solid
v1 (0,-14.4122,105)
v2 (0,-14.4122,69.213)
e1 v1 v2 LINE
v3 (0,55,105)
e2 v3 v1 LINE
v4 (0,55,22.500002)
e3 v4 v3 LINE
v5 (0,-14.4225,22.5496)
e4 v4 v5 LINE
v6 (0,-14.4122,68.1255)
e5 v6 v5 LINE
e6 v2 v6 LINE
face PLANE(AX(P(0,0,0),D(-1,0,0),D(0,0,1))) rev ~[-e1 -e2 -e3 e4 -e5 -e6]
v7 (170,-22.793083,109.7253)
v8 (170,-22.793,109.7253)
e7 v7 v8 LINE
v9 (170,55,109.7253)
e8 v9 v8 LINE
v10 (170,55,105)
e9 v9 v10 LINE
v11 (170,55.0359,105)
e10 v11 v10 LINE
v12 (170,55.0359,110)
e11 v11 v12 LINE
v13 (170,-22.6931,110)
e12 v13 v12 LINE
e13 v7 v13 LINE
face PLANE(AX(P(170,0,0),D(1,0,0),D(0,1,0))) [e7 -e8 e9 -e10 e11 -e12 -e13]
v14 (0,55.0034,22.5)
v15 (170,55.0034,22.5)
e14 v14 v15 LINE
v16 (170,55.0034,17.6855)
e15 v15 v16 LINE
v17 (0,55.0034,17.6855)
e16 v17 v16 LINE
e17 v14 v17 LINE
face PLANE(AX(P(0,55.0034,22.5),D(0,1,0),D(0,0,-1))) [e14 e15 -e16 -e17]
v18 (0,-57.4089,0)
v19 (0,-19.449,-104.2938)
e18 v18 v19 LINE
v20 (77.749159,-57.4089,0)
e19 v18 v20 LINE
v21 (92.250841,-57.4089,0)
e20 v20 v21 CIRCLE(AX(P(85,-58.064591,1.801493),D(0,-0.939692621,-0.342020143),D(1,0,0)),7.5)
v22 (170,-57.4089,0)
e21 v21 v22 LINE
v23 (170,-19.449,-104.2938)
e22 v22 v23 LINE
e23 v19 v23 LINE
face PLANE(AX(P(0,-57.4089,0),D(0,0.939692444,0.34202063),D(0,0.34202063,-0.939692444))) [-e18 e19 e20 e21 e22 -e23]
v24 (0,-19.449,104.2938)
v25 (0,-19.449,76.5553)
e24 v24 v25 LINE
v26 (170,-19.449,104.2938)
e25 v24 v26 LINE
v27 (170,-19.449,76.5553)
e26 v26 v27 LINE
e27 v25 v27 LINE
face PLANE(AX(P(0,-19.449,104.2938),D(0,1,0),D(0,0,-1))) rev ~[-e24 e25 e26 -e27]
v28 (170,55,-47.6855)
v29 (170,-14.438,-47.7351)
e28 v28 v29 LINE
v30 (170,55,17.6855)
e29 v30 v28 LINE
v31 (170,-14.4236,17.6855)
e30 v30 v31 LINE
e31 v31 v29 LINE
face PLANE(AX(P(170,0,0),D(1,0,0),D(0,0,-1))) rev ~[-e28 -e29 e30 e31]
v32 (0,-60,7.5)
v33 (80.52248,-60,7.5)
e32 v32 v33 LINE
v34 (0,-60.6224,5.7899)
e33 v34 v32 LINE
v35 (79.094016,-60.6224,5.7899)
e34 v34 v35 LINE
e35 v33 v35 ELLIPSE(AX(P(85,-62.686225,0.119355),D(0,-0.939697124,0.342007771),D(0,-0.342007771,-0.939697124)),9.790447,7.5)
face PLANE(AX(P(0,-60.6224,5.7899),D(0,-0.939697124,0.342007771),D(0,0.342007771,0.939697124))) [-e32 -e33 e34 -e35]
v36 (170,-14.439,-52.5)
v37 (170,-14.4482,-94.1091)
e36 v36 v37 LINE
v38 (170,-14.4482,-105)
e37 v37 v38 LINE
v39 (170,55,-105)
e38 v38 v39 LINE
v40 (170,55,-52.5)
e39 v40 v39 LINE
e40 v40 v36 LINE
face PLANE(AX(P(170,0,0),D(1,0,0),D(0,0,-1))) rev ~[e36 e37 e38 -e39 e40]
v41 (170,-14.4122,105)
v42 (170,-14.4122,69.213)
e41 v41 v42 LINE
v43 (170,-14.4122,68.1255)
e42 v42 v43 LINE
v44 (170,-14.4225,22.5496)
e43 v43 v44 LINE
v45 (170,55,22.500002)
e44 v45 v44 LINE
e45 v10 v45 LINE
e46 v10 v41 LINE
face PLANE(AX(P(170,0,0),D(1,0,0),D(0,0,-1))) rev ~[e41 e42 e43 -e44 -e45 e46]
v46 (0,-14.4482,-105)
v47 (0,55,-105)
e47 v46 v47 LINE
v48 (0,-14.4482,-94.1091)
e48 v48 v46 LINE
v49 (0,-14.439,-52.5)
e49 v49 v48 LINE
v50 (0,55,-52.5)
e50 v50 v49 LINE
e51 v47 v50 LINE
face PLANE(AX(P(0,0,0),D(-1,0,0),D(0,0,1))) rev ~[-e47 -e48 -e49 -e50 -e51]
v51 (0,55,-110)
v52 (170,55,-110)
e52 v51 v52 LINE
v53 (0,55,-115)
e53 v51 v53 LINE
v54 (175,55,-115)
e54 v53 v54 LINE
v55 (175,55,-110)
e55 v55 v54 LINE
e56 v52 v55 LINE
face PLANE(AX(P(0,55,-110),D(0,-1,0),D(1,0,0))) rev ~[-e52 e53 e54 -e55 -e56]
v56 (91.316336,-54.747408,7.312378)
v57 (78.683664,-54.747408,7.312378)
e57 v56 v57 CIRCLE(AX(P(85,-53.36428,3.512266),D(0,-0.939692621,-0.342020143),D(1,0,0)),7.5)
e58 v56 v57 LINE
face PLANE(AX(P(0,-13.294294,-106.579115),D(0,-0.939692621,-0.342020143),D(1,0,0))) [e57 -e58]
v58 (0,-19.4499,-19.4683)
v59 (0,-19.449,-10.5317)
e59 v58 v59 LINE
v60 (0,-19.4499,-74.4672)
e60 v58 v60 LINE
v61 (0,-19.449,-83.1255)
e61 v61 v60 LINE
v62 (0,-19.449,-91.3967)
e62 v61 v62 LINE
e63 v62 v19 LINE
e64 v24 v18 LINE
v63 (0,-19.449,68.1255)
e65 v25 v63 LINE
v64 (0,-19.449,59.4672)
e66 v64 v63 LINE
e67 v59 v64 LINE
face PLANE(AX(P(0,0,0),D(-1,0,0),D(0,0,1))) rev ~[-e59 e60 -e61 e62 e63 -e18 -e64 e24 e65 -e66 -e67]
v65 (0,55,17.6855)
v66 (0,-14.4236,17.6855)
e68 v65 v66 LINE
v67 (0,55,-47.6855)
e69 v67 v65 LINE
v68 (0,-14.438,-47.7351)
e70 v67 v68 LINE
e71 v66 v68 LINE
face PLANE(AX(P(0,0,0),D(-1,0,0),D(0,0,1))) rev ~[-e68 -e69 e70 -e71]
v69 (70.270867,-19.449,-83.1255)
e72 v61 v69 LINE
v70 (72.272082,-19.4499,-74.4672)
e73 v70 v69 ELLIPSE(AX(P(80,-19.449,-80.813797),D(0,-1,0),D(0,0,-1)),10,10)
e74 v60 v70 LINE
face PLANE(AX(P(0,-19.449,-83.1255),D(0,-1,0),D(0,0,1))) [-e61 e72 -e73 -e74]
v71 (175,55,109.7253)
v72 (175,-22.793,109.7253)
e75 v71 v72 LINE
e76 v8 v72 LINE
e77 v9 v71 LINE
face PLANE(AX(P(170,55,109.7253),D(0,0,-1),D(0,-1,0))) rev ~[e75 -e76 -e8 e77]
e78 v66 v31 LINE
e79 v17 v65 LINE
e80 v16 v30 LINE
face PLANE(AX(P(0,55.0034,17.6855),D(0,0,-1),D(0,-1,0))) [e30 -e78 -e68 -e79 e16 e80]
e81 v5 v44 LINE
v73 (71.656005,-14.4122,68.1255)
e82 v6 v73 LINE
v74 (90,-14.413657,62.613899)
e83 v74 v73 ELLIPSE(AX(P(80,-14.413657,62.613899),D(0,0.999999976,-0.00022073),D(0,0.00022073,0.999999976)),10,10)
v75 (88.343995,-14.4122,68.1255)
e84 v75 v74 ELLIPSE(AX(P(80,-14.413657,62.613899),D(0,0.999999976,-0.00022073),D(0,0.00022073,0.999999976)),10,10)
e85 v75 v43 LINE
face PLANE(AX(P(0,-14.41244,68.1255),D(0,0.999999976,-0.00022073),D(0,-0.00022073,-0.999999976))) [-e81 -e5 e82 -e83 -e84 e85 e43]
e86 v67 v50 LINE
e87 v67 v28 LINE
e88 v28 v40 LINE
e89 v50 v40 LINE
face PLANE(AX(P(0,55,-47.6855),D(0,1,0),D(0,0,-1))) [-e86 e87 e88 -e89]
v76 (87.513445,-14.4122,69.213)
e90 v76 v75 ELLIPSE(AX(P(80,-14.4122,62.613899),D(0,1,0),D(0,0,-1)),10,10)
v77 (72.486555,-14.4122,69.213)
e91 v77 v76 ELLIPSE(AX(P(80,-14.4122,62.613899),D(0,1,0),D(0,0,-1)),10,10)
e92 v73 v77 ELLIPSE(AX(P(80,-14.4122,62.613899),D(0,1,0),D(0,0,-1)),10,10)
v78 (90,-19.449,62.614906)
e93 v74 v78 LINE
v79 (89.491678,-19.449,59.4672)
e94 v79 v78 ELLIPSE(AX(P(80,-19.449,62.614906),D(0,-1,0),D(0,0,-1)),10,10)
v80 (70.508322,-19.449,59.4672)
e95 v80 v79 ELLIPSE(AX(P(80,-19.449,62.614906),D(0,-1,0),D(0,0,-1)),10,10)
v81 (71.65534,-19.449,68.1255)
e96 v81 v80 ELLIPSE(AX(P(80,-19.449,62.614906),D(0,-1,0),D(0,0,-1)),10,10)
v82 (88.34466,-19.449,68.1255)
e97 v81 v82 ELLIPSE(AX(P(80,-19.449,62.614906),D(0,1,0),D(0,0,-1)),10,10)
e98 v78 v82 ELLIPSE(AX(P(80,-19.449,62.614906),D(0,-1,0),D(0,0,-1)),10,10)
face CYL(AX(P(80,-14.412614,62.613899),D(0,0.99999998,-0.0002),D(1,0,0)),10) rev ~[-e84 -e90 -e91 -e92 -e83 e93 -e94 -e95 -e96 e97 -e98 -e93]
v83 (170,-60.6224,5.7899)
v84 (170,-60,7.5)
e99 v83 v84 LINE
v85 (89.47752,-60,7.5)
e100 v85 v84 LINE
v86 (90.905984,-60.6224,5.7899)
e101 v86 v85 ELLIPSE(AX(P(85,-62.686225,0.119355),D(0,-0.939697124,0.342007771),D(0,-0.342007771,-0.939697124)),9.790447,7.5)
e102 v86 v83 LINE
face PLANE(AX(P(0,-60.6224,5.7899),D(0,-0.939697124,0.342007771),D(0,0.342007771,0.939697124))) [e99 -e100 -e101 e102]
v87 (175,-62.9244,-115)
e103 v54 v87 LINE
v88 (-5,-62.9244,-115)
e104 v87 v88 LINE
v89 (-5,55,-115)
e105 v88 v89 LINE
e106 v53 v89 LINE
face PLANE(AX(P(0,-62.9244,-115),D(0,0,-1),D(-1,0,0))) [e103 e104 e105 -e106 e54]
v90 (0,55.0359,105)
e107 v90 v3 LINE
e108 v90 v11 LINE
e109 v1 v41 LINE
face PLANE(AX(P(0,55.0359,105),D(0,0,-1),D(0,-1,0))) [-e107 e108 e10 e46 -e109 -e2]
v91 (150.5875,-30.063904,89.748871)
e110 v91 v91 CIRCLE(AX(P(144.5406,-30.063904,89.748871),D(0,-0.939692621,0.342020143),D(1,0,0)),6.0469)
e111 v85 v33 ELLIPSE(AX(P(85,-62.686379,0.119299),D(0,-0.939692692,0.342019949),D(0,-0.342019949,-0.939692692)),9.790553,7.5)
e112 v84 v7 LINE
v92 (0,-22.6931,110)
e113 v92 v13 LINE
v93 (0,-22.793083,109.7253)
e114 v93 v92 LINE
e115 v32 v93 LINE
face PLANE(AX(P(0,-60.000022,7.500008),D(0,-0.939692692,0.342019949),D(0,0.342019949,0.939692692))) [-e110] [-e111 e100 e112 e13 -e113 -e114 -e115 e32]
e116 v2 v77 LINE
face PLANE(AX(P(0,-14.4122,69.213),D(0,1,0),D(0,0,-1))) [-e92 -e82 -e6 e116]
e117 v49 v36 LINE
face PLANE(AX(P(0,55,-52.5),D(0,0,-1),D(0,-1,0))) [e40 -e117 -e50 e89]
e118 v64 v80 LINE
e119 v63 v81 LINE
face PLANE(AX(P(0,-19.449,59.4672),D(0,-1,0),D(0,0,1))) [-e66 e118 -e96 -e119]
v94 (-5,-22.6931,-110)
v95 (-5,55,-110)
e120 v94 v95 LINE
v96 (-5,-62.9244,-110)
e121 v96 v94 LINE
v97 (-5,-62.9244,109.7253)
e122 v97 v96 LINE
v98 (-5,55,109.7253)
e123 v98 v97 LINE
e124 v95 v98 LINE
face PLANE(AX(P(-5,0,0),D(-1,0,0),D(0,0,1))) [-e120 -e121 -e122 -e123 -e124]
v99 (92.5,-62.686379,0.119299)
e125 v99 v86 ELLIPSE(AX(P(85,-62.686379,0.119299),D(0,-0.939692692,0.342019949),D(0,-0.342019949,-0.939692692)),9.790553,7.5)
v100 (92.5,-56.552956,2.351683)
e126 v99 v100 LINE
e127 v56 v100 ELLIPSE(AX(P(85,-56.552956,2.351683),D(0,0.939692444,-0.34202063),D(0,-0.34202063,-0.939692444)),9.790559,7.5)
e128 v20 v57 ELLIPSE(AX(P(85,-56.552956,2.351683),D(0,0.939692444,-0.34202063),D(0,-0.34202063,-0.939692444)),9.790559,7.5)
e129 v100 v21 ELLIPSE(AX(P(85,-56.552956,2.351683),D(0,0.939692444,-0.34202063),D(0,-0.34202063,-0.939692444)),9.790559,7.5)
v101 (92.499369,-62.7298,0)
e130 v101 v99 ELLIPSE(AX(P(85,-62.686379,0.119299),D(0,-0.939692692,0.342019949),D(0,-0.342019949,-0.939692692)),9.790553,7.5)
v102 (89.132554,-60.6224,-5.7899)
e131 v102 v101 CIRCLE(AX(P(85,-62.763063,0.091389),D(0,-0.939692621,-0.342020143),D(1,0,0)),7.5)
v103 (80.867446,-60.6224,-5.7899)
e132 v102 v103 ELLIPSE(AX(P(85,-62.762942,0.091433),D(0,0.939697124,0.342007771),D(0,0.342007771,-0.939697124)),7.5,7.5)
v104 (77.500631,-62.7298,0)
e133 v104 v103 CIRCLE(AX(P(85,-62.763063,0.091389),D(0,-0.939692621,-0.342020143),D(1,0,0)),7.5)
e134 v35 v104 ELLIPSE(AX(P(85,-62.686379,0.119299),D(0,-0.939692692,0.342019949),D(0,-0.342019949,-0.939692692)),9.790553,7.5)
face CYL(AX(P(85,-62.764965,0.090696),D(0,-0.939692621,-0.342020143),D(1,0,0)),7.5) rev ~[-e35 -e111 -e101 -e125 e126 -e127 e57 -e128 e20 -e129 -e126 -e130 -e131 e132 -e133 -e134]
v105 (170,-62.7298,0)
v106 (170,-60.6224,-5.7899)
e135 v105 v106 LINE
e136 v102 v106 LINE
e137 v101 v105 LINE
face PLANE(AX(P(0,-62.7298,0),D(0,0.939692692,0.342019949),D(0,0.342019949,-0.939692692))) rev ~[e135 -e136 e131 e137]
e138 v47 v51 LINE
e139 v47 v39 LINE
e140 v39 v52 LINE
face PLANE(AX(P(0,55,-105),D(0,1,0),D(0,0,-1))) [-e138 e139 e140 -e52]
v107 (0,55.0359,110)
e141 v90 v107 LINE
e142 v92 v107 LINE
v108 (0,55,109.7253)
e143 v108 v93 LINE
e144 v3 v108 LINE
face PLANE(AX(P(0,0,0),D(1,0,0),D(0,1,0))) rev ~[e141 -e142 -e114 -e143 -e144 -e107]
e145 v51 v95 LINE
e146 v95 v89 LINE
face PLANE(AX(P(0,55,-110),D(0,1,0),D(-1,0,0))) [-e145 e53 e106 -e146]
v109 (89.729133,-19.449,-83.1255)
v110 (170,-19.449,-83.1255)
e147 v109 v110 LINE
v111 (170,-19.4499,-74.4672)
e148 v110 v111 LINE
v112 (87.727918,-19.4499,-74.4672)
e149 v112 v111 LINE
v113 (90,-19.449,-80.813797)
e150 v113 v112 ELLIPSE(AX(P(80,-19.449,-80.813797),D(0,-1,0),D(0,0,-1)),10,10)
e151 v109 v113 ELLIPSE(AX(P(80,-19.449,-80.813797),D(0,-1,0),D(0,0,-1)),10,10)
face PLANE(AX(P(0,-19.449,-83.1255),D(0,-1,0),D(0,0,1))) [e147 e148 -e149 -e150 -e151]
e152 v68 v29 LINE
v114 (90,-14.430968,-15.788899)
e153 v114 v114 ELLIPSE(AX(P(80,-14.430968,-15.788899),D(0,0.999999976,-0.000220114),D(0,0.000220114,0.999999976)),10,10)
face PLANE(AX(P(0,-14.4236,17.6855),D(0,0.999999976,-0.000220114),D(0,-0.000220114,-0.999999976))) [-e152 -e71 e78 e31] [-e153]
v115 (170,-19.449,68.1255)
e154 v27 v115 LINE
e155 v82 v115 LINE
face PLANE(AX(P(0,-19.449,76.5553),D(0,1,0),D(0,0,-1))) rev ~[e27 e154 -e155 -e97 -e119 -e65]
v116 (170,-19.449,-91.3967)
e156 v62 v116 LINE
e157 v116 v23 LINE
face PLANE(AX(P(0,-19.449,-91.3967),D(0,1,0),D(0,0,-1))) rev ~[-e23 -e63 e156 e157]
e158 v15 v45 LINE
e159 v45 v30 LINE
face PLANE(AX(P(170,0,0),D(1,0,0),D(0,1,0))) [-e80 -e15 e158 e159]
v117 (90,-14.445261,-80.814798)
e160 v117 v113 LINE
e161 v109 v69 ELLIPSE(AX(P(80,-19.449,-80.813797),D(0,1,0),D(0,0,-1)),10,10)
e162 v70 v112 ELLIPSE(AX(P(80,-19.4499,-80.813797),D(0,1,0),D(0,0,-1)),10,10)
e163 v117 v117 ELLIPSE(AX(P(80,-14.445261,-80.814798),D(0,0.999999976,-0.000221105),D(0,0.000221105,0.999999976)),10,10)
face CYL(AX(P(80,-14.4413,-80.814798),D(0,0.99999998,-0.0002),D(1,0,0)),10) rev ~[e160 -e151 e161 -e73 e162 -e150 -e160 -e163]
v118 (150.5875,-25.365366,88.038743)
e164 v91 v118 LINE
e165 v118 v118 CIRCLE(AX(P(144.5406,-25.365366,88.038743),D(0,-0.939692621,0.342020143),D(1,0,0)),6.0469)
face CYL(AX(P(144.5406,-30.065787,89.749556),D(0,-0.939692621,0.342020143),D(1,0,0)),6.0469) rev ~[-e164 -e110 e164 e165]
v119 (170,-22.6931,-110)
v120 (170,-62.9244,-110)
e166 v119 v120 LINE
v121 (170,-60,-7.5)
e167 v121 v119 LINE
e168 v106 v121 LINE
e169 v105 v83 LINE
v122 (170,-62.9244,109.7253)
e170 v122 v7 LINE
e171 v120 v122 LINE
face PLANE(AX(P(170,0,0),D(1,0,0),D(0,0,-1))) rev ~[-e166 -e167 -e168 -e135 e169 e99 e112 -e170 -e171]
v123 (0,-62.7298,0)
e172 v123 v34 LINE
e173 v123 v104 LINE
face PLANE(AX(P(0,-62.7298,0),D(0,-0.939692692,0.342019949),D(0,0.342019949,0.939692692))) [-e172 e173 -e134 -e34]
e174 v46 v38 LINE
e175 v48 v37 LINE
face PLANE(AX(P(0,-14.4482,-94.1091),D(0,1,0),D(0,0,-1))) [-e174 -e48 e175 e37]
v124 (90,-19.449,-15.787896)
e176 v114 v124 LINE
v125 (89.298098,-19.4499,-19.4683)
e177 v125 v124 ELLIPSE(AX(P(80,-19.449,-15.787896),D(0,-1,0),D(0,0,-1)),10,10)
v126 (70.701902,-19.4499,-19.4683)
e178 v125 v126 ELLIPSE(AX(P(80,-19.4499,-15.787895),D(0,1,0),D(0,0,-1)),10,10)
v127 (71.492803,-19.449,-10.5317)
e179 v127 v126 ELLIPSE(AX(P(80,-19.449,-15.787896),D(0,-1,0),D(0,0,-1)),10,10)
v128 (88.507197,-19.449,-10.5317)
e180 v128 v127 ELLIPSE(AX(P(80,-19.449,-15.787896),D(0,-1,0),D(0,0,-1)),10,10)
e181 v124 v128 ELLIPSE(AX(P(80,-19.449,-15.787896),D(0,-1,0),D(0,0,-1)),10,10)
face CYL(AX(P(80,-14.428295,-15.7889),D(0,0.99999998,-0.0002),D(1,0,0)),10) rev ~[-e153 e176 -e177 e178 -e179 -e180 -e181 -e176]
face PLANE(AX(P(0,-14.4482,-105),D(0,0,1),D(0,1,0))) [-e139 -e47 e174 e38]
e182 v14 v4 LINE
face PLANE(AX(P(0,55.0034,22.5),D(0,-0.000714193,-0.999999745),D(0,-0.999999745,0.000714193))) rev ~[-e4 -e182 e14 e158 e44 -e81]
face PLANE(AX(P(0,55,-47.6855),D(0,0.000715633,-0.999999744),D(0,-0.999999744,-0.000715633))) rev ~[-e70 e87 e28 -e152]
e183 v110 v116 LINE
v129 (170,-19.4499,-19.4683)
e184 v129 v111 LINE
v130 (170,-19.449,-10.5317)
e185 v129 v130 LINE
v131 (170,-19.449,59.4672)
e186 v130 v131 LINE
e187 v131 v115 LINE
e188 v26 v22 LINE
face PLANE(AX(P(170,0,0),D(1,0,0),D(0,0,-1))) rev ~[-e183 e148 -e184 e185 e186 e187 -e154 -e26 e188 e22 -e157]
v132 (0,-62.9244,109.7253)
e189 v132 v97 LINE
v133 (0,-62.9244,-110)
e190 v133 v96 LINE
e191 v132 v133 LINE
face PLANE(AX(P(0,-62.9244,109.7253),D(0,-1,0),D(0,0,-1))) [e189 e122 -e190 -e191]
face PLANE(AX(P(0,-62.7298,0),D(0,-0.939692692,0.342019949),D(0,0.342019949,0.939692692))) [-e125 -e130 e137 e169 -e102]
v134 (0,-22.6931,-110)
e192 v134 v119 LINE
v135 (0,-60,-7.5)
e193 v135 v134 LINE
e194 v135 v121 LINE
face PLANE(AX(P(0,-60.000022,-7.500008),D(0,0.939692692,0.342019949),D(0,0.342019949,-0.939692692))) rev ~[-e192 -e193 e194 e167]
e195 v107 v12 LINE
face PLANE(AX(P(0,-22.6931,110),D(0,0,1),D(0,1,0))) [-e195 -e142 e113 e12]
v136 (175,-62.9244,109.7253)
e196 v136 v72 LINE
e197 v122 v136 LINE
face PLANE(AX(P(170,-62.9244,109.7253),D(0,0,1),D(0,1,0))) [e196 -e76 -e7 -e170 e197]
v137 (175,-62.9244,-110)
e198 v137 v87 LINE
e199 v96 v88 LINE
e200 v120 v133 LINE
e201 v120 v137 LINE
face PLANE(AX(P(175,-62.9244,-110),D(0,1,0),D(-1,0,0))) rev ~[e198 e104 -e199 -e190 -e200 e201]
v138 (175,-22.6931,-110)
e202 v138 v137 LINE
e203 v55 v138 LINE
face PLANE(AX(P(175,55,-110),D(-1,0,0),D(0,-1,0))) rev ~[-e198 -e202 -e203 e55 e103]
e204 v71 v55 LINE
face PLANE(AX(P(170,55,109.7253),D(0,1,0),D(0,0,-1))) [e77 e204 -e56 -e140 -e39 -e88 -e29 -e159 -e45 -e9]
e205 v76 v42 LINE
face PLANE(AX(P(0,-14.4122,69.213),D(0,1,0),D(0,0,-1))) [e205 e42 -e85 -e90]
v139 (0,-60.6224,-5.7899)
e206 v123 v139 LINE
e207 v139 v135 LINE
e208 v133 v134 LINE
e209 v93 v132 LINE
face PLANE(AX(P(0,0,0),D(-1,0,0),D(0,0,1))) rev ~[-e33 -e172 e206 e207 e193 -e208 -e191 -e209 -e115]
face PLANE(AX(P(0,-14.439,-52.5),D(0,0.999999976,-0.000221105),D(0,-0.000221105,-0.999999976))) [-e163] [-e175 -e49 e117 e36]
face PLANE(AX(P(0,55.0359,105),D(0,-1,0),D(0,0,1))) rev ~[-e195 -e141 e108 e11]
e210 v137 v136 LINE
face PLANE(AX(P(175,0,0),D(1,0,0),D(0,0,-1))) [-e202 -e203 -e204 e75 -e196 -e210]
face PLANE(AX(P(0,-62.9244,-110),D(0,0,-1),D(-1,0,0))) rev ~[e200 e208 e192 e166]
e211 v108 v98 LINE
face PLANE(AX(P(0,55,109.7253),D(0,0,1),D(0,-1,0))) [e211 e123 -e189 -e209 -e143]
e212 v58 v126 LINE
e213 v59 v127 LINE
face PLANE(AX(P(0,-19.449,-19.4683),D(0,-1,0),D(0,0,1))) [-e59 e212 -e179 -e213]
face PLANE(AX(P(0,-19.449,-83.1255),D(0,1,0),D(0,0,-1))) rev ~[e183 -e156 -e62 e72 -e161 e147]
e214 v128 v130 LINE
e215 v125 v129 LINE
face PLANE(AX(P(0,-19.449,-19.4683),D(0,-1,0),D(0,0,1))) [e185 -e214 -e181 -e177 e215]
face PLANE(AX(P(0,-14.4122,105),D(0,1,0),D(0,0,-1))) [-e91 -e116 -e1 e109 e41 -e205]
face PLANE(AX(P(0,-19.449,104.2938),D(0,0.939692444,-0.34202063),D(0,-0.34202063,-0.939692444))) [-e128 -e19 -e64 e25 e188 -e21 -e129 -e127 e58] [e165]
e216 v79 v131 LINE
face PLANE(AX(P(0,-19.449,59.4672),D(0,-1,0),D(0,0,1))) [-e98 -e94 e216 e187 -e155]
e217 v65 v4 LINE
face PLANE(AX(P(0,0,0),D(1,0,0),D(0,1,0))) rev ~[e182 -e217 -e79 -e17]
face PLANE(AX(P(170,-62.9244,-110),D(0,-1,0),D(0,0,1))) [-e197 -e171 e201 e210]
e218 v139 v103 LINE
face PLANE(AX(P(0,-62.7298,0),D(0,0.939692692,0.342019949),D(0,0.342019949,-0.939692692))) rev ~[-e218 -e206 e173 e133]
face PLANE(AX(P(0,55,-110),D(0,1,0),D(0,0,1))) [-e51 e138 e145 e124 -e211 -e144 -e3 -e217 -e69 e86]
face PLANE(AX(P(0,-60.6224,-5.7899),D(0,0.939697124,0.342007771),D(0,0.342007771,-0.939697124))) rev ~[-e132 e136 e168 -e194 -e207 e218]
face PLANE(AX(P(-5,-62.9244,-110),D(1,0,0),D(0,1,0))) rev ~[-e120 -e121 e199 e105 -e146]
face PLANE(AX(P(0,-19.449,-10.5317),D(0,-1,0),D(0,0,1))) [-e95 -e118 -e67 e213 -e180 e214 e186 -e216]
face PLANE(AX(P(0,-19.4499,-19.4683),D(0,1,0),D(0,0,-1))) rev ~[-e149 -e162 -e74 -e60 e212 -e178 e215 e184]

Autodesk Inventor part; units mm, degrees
ref_plane "YZ Plane" through (0, 0, 0) normal (1, 0, 0) x (0, 1, 0)
ref_plane "XZ Plane" through (0, 0, 0) normal (0, 1, 0) x (-1, 0, 0)
ref_plane "XY Plane" through (0, 0, 0) normal (0, 0, 1) x (1, 0, 0)
sketch "Sketch1" plane through (0, 0, 0) normal (1, 0, 0) x (0, 1, 0)
  line L0 (-22.6931, 110) -> (55.0359, 110)
  line L1 (55, -110) -> (-22.6931, -110)
  line L2 (-62.7298, 0) -> (-22.6931, -110)
  line L3 (-62.7298, 0) -> (-22.6931, 110)
  line L4 (-57.4089, 0) -> (-19.449, -104.2938)
  line L5 (-14.4482, -105) -> (55, -105)
  line L6 (55.0359, 105) -> (-14.4122, 105)
  line L7 (-19.449, 104.2938) -> (-57.4089, 0)
  line L8 (55.0034, 17.6855) -> (-14.4593, 17.6855)
  line L9 (55.0034, 22.5) -> (-14.4456, 22.5496)
  line L10 (55, -52.5) -> (-14.449, -52.5)
  line L11 (55, -47.6855) -> (-14.449, -47.7352)
  line L12 (-60.6224, -5.7899) -> (-60, -7.5)
  line L13 (-60.6224, 5.7899) -> (-60, 7.5)
  line L14 (-14.4122, 105) -> (-14.4122, 68.1255)
  line L15 (-14.4456, 59.4672) -> (-14.4456, 22.5496)
  line L16 (-19.449, 104.2938) -> (-19.449, 68.1255)
  line L17 (-14.4593, 17.6855) -> (-14.4593, -10.5317)
  line L18 (-14.449, -19.4683) -> (-14.449, -47.7352)
  line L19 (-19.4705, 59.4672) -> (-19.4705, -10.5317)
  line L20 (-14.449, -52.5) -> (-14.449, -74.4672)
  line L21 (-14.4482, -83.1255) -> (-14.4482, -105.0928)
  line L22 (-19.4499, -19.4683) -> (-19.4499, -74.4672)
  line L23 (-19.449, -83.1255) -> (-19.449, -104.2938)
  line L24 (-19.449, -74.4672) -> (-19.4499, -74.4672)
  line L25 (-14.4593, -83.1255) -> (-14.4482, -83.1255)
  line L26 (-19.4499, -19.4683) -> (-19.449, -19.4683)
  line L27 (-19.4705, -10.5317) -> (-19.449, -10.5317)
  line L28 (-14.4122, 68.1255) -> (-14.4125, 68.1255)
  line L29 (-19.4705, 59.4672) -> (-19.449, 59.4672)
  line L30 (55.0359, 105) -> (55.0359, 110)
  line L31 (55.0034, 22.5) -> (55.0034, 17.6855)
  line L32 (55, -47.6855) -> (55, -52.5)
  line L33 (55, -105) -> (55, -110)
  line L34 (-19.449, -91.3967) -> (-19.449, 76.5553)
  line L35 (-14.4122, 69.213) -> (-14.4225, 22.5496)
  line L36 (-14.4236, 17.6855) -> (-14.438, -47.7351)
  line L37 (-14.439, -52.5) -> (-14.4482, -94.1091)
  point P0 (0, 0)
extrude "Extrusion1" add sketch "Sketch1" along normal blind 170
sketch "Sketch2" plane through (0, -14.4236, 17.6855) normal (0, 1, -0.0002) x (1, 0, 0)
  circle A0 centre (80, 33.4744) radius 10
  circle A1 centre (80, 98.5003) radius 10
  circle A2 centre (80, -44.9284) radius 10
  point P0 (0, 17.6824)
  dimension "d24" = 20
  dimension "d25" = 20
  dimension "d26" = 20
extrude "Extrusion2" cut sketch "Sketch2" against normal blind 6
sketch "Sketch3" plane through (0, -22.6931, -110) normal (0, -0.9397, -0.342) x (1, 0, 0)
  point P0 (0, 95.6047)
sketch "Sketch4" plane through (0, -22.6931, -110) normal (0, -0.9397, -0.342) x (1, 0, 0)
  line L0 (0, 117.1568) -> (170, 117.1568) projected
  circle A0 centre (85, 117.1568) radius 7.5
  point P0 (0, 95.6047)
  dimension "d29" = 15
extrude "Extrusion3" cut sketch "Sketch4" against normal blind 10
sketch "Sketch5" plane through (0, 0, 0) normal (-1, 0, 0) x (0, 0, 1)
  line L0 (-110, -22.6931) -> (-110, 55) projected
  line L1 (-110, 55) -> (109.7253, 55)
  line L2 (109.7253, 55) -> (109.7253, -62.9244)
  line L3 (109.7253, -62.9244) -> (-110, -62.9244)
  line L4 (-110, -62.9244) -> (-110, 55)
  point P0 (0, 0)
extrude "Extrusion4" add sketch "Sketch5" along normal blind 5
sketch "Sketch6" plane through (170, 0, 0) normal (1, 0, 0) x (0, 0, -1)
  line L0 (-109.7253, 55) -> (-109.7253, -22.793) projected
  line L1 (110, -22.6931) -> (110, -62.9244) projected
  line L2 (-109.7253, 55) -> (110, 55)
  line L3 (110, 55) -> (110, -62.9244)
  line L4 (110, -62.9244) -> (-109.7253, -62.9244)
  line L5 (-109.7253, -62.9244) -> (-109.7253, 55)
  point P0 (0, 0)
extrude "Extrusion5" add sketch "Sketch6" along normal blind 5
sketch "Sketch7" plane through (0, -62.9244, 109.7253) normal (0, 0, 1) x (1, 0, 0)
  line L0 (-5, 117.9244) -> (175, 117.9244) projected
  line L1 (-5, 117.9244) -> (175, 117.9244)
  line L2 (175, 117.9244) -> (175, 0)
  line L3 (175, 0) -> (-5, 0)
  line L4 (-5, 0) -> (-5, 117.9244)
  line L5 (175, 0) -> (-5, 0)
  line L6 (-5, 0) -> (-5, 117.9244)
  line L7 (-5, 117.9244) -> (175, 117.9244)
  line L8 (175, 117.9244) -> (175, 0)
  point P0 (0, 62.9244)
sketch "Sketch8" plane through (0, -22.6931, 110) normal (0, -0.9397, 0.342) x (1, 0, 0)
  circle A0 centre (144.5406, -21.5508) radius 6.0469
  point P0 (0, -95.6047)
extrude "Extrusion6" cut sketch "Sketch8" against normal blind 6
sketch "Sketch9" plane through (0, -62.9244, -110) normal (0, 0, -1) x (-1, 0, 0)
  line L0 (-175, 117.9244) -> (-175, 0) projected
  line L1 (0, 117.9244) -> (5, 117.9244) projected
  line L2 (-175, 0) -> (5, 0)
  line L3 (5, 0) -> (5, 117.9244)
  line L4 (5, 117.9244) -> (-175, 117.9244)
  line L5 (-175, 117.9244) -> (-175, 0)
  point P0 (0, 62.9244)
  point P1 (-175, 117.9244)
extrude "Extrusion7" add sketch "Sketch9" along normal blind 5
properties part number "container unit" material "Pine, Southern"
